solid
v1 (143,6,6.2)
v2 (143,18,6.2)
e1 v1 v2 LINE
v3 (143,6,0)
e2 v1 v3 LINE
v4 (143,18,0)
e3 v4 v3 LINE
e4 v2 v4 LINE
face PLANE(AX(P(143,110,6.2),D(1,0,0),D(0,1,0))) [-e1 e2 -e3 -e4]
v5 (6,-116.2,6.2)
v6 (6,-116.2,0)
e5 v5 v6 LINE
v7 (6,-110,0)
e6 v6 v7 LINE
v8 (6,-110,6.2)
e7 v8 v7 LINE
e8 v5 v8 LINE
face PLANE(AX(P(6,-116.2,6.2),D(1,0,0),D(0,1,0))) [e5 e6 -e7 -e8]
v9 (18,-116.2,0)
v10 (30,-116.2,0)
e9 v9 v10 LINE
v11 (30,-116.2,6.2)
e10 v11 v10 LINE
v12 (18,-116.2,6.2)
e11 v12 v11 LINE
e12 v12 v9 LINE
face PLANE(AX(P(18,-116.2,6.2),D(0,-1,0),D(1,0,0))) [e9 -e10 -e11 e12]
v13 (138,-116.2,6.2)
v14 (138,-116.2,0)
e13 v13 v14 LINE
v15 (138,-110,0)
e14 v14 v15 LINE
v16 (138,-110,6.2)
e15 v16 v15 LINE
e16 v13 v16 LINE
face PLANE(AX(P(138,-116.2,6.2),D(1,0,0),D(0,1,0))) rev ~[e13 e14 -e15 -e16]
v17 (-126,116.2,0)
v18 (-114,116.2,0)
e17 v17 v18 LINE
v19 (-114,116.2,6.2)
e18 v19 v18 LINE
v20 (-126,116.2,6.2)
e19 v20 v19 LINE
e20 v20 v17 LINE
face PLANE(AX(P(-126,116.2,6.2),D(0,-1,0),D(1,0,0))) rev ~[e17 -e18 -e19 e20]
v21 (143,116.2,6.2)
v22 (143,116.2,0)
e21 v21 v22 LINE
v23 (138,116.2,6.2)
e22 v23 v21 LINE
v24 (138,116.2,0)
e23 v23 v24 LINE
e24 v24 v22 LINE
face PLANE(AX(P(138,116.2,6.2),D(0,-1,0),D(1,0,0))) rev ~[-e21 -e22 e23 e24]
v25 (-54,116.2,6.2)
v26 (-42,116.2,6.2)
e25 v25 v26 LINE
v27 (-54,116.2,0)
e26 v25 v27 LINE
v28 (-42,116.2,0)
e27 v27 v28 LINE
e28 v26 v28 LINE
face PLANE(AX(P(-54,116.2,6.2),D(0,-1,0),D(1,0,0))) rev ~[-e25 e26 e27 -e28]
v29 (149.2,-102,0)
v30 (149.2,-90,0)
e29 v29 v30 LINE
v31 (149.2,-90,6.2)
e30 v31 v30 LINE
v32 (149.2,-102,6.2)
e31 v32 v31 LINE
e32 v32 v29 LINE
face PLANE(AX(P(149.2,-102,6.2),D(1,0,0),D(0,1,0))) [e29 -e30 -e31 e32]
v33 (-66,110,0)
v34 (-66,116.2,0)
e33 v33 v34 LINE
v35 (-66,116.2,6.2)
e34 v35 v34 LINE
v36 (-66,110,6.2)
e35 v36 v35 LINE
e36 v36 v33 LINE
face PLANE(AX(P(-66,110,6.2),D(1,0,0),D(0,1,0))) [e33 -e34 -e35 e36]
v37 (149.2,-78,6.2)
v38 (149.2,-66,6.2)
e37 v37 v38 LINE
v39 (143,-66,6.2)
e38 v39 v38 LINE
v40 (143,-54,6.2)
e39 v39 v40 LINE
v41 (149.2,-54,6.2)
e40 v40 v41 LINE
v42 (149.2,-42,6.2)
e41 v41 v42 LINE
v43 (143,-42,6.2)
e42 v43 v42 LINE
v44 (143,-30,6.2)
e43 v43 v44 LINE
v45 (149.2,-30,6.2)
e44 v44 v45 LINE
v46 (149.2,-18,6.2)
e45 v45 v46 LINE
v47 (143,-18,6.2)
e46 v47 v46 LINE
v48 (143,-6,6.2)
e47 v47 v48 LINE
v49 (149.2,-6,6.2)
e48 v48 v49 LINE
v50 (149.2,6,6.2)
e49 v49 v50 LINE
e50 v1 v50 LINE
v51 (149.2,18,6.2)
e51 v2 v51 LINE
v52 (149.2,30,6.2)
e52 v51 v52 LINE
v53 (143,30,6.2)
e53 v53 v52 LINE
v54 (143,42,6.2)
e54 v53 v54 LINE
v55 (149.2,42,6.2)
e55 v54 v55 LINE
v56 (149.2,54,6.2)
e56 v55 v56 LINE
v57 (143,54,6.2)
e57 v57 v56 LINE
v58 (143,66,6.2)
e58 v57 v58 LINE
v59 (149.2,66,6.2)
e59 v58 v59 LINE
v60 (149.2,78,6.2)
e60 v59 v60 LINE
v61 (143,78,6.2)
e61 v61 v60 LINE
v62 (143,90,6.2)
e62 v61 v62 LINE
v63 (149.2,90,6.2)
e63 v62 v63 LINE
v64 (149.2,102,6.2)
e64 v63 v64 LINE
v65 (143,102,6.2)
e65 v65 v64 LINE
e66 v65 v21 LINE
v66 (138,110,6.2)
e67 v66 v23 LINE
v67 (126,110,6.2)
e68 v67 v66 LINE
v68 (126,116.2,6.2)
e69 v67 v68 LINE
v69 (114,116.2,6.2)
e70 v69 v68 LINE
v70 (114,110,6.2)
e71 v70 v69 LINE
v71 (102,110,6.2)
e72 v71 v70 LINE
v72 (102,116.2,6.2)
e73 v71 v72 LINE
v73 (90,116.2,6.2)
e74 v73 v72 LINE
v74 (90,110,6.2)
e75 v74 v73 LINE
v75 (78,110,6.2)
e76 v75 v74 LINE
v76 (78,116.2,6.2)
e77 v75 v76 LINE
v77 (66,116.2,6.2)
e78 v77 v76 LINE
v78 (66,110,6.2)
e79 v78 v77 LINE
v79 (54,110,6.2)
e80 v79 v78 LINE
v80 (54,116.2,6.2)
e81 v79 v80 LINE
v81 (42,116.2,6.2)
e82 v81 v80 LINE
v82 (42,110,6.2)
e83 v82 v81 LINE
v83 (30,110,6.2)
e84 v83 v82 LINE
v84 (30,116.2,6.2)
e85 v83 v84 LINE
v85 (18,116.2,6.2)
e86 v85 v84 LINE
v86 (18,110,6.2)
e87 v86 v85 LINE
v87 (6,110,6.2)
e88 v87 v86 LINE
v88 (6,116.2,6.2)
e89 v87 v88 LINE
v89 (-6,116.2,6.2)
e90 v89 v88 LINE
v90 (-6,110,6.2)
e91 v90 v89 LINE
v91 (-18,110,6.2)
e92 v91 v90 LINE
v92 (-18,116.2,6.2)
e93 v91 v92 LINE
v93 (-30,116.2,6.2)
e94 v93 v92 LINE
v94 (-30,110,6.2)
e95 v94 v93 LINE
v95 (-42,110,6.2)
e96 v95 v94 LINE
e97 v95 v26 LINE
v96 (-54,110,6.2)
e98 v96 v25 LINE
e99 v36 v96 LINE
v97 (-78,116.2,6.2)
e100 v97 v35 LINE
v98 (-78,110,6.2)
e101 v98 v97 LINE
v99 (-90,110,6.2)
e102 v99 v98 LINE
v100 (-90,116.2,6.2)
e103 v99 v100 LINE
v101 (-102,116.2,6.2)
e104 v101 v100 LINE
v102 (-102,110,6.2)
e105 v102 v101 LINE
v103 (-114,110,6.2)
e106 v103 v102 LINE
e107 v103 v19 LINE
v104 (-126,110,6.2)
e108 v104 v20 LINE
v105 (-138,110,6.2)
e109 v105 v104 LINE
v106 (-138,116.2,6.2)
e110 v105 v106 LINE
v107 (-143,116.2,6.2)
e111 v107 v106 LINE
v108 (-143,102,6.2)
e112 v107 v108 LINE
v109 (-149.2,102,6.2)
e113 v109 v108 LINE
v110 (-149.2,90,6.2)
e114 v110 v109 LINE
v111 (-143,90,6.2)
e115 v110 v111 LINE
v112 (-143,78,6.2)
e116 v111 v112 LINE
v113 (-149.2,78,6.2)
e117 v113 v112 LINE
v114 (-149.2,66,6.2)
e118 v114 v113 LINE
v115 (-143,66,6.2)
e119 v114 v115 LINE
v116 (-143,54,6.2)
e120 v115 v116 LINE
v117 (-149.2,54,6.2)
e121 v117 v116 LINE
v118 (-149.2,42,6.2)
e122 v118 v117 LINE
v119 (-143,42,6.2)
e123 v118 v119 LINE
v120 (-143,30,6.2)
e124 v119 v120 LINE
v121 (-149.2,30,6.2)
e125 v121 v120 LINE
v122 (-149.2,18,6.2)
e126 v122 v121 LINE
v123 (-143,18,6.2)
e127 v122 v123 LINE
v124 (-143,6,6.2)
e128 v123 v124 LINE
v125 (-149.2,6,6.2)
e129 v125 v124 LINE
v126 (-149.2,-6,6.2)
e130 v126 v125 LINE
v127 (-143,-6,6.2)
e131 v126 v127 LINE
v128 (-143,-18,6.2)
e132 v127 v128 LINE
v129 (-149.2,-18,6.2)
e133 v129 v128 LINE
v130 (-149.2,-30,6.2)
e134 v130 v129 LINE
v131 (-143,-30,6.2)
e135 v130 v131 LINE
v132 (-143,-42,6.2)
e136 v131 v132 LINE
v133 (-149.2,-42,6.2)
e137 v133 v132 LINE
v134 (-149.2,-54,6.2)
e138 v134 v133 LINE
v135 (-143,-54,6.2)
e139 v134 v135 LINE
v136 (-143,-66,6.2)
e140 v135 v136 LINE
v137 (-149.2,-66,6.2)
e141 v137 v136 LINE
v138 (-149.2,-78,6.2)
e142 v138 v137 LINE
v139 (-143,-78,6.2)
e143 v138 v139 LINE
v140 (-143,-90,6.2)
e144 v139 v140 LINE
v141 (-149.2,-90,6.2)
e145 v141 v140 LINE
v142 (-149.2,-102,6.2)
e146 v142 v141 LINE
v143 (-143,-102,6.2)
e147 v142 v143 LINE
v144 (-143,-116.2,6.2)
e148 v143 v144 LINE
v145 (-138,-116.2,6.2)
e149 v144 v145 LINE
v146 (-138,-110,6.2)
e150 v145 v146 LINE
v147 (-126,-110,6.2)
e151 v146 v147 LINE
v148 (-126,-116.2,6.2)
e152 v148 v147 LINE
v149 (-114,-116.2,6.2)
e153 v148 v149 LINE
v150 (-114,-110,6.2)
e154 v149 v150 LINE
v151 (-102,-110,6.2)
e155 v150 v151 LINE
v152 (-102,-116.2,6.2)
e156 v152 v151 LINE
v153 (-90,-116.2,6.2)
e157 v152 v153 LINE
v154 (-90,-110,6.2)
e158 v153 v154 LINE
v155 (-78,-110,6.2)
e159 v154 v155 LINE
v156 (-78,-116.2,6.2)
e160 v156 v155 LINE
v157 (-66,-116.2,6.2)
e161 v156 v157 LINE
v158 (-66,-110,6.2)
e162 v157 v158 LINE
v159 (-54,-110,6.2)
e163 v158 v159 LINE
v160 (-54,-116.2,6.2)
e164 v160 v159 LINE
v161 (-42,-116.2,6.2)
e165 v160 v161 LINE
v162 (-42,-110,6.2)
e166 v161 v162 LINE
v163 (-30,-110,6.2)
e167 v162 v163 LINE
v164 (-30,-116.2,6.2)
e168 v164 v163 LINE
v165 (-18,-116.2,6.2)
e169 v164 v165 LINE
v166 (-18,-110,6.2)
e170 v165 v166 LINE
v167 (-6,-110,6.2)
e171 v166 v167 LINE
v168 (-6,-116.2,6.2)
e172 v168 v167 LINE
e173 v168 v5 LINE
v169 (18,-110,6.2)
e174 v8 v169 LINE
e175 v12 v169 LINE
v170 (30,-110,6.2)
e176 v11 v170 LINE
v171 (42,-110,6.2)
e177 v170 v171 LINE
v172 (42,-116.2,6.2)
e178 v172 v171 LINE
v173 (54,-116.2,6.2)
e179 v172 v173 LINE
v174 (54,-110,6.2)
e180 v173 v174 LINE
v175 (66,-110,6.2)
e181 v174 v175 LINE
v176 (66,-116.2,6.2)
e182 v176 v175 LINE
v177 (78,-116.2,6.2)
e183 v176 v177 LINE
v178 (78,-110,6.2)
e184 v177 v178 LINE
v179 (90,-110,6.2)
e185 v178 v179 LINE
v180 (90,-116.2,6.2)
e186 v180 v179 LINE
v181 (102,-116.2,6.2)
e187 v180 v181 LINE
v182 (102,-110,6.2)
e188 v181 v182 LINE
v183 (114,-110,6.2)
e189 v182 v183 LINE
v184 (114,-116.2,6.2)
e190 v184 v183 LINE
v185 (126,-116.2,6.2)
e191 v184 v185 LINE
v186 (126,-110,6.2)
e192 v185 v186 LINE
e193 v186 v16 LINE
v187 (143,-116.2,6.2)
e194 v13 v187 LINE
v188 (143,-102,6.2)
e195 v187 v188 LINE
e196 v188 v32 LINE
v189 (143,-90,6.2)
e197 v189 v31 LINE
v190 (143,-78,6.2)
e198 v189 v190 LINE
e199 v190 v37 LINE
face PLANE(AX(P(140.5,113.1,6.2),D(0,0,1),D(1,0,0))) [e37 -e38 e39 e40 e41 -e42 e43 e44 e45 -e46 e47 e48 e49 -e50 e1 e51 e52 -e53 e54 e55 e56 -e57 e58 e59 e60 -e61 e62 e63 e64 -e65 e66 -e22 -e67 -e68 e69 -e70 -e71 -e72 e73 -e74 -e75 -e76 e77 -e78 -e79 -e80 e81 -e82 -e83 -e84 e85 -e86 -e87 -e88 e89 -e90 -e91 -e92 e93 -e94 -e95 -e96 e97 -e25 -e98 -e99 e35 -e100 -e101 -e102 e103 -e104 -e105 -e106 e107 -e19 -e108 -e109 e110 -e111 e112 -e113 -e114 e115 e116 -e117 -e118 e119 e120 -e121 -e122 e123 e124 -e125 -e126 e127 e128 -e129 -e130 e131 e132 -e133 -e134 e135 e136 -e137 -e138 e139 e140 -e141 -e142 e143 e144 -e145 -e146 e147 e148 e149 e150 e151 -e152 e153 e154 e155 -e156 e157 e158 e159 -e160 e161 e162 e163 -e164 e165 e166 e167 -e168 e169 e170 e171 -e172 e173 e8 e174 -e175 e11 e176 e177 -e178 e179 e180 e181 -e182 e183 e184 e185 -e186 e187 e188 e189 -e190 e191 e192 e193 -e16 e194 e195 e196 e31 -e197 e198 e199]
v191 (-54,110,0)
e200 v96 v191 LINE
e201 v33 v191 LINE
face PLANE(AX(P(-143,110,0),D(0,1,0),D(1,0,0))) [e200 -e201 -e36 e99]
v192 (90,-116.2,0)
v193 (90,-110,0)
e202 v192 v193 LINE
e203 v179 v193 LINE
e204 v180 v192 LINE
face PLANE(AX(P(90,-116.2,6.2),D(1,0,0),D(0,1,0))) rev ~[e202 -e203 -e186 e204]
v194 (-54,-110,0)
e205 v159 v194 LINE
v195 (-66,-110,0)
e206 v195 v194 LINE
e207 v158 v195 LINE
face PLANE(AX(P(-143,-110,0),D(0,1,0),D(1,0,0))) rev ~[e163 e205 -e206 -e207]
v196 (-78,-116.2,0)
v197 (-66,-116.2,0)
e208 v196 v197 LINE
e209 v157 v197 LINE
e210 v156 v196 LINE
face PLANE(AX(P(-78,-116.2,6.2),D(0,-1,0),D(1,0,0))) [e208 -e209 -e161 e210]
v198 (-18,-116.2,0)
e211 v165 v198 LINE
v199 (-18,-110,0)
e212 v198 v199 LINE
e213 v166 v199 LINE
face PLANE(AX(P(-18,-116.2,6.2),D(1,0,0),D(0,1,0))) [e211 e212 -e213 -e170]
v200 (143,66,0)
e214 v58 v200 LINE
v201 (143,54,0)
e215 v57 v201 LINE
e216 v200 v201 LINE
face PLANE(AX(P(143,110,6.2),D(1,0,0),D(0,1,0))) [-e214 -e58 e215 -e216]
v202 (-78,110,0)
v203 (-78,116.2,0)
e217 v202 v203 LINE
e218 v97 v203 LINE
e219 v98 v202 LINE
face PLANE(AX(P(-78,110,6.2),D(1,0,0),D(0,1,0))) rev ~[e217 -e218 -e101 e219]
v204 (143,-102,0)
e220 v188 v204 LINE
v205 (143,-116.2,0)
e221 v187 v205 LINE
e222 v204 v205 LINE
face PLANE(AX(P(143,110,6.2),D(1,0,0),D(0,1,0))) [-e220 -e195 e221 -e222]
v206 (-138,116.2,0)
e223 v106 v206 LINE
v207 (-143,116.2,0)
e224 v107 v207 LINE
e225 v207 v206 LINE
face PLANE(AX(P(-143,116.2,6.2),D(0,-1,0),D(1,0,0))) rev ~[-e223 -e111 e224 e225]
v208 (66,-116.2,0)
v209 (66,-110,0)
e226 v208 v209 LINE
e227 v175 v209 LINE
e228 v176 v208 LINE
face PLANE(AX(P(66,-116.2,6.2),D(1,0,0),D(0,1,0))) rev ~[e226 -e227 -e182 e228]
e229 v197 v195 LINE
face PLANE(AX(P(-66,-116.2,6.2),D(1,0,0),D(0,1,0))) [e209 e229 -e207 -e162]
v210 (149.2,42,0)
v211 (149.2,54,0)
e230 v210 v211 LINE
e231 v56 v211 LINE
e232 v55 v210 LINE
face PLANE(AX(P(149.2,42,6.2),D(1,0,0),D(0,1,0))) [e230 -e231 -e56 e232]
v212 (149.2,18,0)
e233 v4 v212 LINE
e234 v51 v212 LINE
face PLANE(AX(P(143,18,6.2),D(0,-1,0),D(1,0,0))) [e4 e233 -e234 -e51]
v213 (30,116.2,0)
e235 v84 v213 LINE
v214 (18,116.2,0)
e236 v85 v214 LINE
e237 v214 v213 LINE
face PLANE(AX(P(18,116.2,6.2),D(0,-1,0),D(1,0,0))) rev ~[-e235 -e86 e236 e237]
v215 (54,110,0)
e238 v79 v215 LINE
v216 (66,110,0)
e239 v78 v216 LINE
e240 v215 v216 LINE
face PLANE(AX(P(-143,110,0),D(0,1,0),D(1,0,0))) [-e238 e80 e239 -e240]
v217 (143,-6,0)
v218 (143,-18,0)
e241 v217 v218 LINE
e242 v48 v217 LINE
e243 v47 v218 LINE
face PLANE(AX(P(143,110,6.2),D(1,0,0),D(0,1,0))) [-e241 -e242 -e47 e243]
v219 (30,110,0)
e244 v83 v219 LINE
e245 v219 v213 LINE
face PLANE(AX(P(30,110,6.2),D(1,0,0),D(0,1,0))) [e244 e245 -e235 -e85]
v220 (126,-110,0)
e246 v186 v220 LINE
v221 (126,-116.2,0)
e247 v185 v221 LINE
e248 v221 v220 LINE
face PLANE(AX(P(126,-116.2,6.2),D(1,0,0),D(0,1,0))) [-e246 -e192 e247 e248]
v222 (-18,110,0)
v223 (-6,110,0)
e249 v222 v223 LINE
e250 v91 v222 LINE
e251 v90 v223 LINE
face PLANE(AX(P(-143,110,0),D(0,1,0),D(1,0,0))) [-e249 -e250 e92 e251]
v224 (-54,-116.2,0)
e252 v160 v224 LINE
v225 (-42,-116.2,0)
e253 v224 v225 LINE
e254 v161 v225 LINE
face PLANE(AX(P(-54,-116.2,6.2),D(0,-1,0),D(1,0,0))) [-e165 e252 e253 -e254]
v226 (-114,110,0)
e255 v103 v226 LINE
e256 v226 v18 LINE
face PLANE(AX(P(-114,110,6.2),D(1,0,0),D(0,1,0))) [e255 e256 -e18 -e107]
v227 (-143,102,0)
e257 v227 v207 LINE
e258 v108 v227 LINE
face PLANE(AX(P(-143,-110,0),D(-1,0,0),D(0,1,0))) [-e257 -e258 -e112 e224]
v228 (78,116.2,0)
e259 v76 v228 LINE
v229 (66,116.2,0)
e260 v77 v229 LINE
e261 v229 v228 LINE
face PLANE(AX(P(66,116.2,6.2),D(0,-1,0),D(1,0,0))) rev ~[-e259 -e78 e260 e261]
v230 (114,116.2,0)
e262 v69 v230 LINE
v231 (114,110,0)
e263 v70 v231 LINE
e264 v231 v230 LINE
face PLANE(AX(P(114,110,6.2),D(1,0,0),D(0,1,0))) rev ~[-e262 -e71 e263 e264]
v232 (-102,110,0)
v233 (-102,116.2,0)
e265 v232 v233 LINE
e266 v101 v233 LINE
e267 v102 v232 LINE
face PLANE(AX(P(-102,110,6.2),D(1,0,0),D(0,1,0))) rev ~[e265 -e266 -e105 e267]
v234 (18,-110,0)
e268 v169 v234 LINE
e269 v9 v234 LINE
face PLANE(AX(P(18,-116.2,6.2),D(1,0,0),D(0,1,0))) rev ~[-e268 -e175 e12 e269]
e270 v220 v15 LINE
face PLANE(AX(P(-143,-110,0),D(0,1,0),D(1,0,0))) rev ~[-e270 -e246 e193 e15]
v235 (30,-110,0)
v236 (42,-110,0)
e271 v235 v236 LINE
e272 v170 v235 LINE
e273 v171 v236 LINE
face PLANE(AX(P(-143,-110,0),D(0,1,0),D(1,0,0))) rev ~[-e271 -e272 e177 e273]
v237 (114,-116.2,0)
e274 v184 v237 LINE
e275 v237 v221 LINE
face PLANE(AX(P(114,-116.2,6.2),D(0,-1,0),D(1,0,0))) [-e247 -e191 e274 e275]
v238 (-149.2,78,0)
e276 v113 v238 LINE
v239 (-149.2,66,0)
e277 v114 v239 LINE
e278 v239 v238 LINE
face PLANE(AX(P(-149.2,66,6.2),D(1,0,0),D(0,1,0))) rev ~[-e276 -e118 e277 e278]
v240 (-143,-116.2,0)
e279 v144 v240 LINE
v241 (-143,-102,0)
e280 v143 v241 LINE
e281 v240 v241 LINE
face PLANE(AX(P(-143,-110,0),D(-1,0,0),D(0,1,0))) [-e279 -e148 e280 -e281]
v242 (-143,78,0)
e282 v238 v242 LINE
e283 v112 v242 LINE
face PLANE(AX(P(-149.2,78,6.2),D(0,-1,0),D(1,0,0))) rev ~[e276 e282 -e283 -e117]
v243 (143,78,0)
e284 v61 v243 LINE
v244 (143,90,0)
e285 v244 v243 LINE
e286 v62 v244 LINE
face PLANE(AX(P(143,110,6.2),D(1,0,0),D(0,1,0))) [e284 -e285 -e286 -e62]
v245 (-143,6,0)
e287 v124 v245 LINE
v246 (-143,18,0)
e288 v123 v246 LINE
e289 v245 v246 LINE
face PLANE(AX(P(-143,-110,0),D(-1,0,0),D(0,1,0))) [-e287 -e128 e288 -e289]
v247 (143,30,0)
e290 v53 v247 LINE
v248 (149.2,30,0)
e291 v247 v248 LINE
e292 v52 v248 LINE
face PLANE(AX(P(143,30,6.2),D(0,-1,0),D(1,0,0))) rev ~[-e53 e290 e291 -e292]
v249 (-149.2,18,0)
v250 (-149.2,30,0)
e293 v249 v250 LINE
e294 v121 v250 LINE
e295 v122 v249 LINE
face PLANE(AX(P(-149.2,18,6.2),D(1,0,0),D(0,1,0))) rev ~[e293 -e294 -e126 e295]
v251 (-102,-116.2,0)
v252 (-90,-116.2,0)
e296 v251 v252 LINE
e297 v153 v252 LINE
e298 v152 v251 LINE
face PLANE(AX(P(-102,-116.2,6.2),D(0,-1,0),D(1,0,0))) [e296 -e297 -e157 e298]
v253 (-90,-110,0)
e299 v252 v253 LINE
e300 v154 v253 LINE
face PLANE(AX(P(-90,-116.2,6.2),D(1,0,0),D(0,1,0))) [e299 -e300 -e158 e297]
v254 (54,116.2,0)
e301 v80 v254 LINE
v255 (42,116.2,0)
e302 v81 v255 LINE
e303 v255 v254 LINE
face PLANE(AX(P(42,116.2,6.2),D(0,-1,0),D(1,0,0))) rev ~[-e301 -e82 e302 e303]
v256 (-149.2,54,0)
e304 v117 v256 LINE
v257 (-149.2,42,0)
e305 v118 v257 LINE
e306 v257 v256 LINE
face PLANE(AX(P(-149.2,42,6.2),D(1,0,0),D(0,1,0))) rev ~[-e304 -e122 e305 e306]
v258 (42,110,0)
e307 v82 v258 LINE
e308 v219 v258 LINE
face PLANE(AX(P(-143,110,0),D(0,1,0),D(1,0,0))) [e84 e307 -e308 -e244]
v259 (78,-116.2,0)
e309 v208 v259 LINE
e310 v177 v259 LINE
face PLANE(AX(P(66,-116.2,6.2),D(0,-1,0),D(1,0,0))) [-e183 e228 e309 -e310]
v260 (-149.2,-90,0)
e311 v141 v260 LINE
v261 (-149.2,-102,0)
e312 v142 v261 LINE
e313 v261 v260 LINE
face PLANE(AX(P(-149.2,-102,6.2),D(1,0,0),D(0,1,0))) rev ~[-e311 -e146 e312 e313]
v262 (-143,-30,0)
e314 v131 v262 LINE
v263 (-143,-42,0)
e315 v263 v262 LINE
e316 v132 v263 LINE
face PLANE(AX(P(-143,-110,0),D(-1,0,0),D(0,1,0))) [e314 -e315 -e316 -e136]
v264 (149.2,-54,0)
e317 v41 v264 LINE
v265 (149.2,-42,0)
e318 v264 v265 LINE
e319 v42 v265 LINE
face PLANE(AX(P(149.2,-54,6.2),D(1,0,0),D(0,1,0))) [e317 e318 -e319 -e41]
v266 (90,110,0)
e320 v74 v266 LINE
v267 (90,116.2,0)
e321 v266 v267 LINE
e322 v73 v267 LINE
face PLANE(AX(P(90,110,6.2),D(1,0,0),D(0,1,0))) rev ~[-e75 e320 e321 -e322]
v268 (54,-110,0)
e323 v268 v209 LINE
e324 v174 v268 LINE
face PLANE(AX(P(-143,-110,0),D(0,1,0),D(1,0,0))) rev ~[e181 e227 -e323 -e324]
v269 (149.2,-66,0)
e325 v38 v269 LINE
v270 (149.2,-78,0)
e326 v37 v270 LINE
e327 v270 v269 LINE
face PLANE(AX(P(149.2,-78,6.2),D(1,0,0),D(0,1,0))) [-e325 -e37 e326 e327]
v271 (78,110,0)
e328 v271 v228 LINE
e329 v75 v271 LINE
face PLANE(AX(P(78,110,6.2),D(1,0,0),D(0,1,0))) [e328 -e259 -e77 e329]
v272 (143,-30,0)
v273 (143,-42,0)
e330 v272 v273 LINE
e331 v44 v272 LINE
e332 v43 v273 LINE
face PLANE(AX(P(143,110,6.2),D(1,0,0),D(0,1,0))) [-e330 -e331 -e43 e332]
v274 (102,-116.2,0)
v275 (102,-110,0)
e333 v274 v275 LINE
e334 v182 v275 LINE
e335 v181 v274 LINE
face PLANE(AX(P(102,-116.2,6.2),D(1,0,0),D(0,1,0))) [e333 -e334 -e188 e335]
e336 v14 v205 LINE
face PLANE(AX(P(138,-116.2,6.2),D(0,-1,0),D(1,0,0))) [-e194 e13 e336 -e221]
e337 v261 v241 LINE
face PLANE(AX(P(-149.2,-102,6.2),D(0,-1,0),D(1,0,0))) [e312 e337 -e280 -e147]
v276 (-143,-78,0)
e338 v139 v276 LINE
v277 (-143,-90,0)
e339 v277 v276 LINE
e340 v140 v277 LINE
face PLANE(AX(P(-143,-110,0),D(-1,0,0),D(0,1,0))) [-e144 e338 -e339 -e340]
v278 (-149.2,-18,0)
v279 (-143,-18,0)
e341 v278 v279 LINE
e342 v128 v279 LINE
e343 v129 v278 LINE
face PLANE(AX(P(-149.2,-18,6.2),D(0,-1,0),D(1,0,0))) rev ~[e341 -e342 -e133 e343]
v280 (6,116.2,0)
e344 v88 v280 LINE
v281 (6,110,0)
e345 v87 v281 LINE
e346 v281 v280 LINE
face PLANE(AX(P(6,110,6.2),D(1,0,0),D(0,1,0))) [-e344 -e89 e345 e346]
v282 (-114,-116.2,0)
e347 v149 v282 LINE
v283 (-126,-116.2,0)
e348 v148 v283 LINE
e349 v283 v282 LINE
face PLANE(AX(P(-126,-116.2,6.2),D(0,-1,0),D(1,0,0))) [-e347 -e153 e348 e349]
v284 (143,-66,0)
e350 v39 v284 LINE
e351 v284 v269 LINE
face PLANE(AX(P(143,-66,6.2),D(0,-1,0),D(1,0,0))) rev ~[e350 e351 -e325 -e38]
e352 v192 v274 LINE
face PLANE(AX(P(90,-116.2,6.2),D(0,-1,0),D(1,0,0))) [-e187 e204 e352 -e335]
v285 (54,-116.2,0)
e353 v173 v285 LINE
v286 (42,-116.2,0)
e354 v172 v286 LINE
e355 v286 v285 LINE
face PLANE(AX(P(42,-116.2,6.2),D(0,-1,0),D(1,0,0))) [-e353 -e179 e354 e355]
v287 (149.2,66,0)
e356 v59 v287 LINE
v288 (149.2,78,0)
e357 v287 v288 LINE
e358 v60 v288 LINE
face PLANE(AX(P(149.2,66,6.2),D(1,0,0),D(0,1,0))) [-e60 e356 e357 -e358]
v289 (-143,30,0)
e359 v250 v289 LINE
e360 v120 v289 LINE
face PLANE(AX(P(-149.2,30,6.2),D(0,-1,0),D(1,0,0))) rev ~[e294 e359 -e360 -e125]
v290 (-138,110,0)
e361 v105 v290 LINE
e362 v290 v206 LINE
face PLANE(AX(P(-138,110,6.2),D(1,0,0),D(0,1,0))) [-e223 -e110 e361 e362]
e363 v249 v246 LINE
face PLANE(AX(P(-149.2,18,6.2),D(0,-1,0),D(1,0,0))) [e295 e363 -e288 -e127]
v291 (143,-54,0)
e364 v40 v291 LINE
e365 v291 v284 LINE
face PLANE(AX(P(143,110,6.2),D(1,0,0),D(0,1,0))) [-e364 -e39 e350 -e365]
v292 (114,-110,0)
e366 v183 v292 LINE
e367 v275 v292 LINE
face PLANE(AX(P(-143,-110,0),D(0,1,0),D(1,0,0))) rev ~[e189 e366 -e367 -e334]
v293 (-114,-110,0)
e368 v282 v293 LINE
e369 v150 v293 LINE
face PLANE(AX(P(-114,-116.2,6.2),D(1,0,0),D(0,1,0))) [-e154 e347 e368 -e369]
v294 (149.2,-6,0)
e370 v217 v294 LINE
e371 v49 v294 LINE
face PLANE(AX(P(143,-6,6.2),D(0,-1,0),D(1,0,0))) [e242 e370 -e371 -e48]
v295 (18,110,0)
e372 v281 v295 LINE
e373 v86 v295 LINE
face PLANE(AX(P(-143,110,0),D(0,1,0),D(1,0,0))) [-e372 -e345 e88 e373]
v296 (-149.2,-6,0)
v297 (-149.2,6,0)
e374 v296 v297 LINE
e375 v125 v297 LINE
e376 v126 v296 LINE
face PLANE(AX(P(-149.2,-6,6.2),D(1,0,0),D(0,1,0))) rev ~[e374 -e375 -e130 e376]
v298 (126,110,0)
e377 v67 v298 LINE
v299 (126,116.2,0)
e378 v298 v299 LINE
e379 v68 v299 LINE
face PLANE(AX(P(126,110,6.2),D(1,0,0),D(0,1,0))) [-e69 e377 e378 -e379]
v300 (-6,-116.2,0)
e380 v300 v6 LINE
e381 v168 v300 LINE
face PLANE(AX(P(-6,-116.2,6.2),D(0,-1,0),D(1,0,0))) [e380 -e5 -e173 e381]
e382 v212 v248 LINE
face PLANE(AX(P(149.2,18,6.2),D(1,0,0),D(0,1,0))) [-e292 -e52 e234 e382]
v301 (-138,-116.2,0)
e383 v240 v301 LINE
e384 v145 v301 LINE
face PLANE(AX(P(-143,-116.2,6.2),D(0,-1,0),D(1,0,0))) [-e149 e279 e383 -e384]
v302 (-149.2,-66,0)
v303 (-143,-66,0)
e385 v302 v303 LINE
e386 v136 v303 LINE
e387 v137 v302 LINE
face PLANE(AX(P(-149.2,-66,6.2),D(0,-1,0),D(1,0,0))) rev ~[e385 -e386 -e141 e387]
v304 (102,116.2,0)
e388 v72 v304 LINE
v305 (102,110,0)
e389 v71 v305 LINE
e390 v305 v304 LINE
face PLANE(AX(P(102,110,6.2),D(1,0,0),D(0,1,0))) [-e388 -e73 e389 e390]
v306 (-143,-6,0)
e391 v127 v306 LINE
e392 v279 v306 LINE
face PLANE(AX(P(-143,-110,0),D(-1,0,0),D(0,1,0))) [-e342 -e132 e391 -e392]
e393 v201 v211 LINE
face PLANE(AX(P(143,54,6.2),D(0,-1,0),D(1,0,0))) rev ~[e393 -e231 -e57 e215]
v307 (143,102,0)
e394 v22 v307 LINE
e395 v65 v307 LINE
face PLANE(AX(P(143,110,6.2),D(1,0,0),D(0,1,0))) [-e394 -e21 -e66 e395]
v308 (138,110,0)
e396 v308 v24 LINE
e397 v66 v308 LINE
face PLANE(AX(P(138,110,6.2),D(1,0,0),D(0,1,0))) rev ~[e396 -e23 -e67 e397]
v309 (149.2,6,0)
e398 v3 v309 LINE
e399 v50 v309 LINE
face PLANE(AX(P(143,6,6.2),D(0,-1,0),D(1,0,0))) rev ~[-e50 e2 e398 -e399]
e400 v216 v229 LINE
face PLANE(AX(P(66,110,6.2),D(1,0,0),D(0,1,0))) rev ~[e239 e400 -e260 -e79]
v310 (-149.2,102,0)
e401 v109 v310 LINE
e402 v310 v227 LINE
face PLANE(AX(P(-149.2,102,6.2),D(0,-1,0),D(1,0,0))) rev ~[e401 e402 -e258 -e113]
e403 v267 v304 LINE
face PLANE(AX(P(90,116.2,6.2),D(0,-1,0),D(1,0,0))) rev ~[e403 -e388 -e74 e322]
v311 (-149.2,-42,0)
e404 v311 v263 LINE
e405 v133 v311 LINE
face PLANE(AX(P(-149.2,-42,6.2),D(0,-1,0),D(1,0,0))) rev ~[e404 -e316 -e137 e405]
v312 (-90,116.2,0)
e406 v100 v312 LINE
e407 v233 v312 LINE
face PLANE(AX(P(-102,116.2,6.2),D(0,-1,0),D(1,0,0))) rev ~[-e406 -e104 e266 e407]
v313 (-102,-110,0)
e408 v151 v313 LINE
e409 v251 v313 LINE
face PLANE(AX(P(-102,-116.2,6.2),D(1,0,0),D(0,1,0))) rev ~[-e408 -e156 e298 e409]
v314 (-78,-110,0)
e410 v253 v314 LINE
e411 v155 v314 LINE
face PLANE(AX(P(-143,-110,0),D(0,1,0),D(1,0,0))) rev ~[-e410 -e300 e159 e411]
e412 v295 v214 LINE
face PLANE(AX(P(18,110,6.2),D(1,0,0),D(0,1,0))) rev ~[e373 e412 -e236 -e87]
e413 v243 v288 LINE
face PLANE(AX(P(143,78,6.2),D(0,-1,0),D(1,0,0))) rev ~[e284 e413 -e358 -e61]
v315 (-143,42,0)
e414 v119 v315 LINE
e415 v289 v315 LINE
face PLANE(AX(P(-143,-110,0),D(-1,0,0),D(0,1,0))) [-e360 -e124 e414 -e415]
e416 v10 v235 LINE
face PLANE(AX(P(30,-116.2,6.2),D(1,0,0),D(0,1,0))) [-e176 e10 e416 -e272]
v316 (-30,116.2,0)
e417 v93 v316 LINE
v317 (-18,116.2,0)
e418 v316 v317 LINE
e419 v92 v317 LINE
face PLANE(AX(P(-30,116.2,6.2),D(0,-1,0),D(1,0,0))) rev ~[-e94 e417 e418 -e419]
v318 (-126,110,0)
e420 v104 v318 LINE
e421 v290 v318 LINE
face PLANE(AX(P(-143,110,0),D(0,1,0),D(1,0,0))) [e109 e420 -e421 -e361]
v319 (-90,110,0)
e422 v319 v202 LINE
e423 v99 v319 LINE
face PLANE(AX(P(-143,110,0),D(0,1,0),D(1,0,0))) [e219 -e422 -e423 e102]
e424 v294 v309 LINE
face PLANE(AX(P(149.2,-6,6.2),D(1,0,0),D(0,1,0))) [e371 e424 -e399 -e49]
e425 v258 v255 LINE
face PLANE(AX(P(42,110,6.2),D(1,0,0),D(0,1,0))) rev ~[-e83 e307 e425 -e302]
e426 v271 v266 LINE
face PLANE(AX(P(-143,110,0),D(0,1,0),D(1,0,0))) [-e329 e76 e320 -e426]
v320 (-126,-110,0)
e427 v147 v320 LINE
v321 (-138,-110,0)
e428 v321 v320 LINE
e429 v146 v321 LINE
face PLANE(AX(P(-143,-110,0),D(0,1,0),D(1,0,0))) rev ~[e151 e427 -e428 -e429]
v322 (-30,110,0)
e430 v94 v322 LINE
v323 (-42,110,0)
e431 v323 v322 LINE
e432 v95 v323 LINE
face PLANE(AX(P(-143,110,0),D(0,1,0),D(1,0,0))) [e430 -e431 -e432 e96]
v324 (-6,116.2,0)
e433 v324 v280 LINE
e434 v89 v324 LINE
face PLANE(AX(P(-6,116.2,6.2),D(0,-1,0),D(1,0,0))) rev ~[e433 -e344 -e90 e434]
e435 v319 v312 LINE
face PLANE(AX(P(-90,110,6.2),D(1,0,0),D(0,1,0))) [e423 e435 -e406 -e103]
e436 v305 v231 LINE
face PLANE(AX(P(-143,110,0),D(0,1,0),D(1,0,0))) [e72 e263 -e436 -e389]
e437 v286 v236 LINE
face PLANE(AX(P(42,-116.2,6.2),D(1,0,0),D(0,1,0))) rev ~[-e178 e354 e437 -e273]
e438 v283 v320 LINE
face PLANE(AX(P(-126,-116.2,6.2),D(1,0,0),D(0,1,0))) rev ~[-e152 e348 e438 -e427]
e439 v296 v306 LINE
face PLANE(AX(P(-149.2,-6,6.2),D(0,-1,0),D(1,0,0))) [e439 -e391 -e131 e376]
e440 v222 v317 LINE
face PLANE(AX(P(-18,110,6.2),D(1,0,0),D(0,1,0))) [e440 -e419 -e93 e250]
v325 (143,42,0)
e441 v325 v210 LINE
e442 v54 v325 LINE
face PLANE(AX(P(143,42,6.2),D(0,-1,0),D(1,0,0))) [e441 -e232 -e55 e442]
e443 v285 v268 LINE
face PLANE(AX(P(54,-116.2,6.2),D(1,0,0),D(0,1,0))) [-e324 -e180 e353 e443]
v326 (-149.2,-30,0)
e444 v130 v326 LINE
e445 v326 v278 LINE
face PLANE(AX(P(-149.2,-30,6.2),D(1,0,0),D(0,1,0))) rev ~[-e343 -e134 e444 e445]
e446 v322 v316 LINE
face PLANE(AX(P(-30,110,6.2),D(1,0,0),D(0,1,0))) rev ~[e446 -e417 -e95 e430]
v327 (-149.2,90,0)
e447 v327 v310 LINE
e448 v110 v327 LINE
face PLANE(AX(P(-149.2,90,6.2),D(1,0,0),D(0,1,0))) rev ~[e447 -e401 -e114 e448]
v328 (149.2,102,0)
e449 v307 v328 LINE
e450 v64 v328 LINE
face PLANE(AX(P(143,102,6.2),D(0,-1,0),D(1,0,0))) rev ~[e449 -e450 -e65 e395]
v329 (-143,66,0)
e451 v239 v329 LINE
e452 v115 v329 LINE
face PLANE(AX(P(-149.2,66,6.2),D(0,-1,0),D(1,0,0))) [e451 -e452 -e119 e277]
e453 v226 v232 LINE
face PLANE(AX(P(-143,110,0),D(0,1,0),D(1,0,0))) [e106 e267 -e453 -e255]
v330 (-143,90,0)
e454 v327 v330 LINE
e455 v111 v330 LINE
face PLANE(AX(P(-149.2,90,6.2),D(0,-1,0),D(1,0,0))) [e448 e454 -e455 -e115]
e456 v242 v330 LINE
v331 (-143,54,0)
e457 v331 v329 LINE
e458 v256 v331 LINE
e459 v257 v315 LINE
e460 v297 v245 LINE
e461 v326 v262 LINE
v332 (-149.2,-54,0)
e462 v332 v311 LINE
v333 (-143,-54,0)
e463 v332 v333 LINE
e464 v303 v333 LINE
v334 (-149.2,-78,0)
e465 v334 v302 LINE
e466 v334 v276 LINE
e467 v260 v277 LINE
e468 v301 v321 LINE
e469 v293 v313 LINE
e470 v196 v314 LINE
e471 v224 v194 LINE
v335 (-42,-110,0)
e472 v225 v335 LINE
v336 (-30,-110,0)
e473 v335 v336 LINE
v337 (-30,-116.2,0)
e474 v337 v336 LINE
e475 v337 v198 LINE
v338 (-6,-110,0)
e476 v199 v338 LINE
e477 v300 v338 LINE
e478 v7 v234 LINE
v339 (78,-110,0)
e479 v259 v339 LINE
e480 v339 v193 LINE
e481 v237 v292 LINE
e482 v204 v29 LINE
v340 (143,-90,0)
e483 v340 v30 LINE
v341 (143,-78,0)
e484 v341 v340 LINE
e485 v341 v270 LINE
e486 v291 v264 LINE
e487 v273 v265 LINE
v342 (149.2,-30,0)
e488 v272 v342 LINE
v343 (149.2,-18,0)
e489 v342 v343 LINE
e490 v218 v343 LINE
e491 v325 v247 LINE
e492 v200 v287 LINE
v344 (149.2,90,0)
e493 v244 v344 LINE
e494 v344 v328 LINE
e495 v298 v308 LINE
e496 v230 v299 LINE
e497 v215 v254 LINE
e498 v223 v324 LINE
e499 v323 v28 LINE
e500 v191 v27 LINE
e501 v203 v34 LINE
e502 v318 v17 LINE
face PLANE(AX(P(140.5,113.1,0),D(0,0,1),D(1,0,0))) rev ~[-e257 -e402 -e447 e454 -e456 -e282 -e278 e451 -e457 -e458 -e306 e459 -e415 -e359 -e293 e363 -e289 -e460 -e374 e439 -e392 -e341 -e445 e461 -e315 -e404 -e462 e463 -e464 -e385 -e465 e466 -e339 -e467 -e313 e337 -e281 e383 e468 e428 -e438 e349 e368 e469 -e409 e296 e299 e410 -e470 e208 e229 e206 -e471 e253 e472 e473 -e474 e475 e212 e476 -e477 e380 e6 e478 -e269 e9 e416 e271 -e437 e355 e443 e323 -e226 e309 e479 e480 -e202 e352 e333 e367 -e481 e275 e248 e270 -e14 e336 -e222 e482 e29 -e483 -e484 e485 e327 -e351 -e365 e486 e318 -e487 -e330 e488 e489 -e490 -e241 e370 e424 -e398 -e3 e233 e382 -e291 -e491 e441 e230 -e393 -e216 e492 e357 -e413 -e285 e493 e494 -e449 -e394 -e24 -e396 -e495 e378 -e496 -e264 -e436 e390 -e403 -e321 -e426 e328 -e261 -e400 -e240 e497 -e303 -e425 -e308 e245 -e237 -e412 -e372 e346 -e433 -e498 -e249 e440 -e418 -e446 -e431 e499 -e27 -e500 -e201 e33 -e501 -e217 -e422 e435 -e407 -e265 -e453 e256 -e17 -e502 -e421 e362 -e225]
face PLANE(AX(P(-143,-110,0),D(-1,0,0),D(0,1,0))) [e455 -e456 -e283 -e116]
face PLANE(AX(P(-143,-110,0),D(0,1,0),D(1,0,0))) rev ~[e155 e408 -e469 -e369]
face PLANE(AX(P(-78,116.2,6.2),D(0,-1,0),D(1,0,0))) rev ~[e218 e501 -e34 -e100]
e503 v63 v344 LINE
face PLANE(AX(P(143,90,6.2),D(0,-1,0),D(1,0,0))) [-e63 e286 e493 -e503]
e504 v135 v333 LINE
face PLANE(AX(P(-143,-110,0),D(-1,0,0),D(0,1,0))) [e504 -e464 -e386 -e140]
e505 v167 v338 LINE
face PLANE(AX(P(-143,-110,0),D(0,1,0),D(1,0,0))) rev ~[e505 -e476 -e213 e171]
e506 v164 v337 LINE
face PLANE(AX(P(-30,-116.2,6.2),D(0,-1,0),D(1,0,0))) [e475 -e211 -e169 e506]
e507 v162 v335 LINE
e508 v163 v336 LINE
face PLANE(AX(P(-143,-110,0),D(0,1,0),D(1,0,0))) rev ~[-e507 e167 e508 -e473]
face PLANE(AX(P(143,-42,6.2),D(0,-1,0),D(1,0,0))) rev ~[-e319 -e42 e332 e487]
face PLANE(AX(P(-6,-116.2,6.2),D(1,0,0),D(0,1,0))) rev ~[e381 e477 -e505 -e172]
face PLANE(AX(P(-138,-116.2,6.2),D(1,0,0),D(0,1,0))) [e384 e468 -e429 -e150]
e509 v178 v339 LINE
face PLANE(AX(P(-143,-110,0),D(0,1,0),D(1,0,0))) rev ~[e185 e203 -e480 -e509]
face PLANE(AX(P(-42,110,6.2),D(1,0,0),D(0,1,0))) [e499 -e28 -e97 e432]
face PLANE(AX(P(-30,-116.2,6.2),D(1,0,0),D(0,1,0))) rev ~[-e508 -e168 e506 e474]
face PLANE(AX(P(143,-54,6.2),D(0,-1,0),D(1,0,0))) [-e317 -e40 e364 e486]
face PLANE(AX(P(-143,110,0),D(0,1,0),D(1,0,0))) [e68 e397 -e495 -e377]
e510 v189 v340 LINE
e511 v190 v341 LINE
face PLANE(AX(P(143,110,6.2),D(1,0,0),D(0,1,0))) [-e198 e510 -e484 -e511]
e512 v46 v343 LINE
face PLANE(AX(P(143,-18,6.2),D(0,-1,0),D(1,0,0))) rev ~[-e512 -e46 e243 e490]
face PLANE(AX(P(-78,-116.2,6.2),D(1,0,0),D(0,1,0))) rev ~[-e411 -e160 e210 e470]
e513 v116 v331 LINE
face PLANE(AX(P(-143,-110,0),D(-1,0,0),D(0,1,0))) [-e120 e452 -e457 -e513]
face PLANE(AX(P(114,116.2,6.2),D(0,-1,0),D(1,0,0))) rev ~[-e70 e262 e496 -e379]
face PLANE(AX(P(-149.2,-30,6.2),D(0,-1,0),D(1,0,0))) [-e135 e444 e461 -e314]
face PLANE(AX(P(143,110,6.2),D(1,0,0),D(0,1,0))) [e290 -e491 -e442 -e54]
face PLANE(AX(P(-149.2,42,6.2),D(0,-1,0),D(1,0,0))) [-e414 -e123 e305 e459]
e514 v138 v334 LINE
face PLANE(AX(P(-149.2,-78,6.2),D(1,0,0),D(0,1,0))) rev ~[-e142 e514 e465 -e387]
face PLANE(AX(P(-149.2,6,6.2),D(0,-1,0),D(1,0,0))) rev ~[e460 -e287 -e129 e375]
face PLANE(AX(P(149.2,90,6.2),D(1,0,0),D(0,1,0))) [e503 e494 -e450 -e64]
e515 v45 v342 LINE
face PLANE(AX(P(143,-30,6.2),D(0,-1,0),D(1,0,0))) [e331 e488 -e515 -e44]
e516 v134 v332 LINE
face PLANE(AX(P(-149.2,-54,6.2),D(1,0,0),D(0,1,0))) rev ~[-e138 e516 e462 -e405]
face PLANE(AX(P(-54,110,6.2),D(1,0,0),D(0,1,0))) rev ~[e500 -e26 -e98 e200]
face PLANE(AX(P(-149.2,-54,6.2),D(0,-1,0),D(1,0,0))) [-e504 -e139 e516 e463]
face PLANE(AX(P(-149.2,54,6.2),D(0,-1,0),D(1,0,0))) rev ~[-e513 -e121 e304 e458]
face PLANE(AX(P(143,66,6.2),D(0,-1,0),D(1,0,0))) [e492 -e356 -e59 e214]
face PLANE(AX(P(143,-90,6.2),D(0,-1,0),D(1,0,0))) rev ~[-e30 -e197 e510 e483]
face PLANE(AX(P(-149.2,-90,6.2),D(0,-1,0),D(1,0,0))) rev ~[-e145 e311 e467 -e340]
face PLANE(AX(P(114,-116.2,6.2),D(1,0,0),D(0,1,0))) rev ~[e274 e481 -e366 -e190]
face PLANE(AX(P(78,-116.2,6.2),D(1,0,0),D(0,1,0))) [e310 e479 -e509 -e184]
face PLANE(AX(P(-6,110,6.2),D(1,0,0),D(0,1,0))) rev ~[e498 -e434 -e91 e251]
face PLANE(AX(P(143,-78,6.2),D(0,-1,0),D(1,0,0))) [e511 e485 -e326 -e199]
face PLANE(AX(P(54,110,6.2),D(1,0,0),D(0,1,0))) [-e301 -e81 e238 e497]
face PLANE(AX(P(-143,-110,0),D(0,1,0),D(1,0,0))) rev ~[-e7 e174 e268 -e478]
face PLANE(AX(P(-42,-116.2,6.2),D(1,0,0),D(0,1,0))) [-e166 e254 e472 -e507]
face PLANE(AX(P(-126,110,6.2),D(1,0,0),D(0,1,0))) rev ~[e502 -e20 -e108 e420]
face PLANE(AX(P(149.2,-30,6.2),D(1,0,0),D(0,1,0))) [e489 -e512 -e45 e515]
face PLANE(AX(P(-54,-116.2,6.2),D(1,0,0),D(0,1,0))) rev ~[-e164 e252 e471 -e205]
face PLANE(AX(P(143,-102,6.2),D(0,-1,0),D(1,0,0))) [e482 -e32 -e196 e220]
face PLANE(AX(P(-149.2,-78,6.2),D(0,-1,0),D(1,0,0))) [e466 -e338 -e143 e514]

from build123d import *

# Parameters (mm, degrees)
F0_W     = 286
F0_H     = 220
F1_DEPTH = 6.2
F2_W     = 5
F2_H     = 6.2
F2_W_2   = 12
F3_DEPTH = 6.2
F4_W     = 6.2
F4_H     = 12
F5_DEPTH = 6.2


with BuildPart() as f1:
    # F0 (on Top) → F1 (new body)
    with BuildSketch(Plane.XY):
        Rectangle(F0_W, F0_H)
    extrude(amount=F1_DEPTH)

    # F2 (on face) → F3 (join, through all)
    with BuildSketch(Plane.XY.offset(6.2)):
        with Locations((140.5, 113.1)):
            Rectangle(F2_W, F2_H)
        with Locations((120, 113.1)):
            Rectangle(F2_W_2, F2_H)
        with Locations((96, 113.1)):
            Rectangle(F2_W_2, F2_H)
        with Locations((72, 113.1)):
            Rectangle(F2_W_2, F2_H)
        with Locations((48, 113.1)):
            Rectangle(F2_W_2, F2_H)
        with Locations((24, 113.1)):
            Rectangle(F2_W_2, F2_H)
        with Locations((0, 113.1)):
            Rectangle(F2_W_2, F2_H)
        with Locations((-24, 113.1)):
            Rectangle(F2_W_2, F2_H)
        with Locations((-48, 113.1)):
            Rectangle(F2_W_2, F2_H)
        with Locations((-72, 113.1)):
            Rectangle(F2_W_2, F2_H)
        with Locations((-96, 113.1)):
            Rectangle(F2_W_2, F2_H)
        with Locations((-120, 113.1)):
            Rectangle(F2_W_2, F2_H)
        with Locations((-140.5, 113.1)):
            Rectangle(F2_W, F2_H)
        with Locations((-140.5, -113.1)):
            Rectangle(F2_W, F2_H)
        with Locations((-120, -113.1)):
            Rectangle(F2_W_2, F2_H)
        with Locations((-96, -113.1)):
            Rectangle(F2_W_2, F2_H)
        with Locations((-72, -113.1)):
            Rectangle(F2_W_2, F2_H)
        with Locations((-48, -113.1)):
            Rectangle(F2_W_2, F2_H)
        with Locations((-24, -113.1)):
            Rectangle(F2_W_2, F2_H)
        with Locations((0, -113.1)):
            Rectangle(F2_W_2, F2_H)
        with Locations((24, -113.1)):
            Rectangle(F2_W_2, F2_H)
        with Locations((48, -113.1)):
            Rectangle(F2_W_2, F2_H)
        with Locations((72, -113.1)):
            Rectangle(F2_W_2, F2_H)
        with Locations((96, -113.1)):
            Rectangle(F2_W_2, F2_H)
        with Locations((120, -113.1)):
            Rectangle(F2_W_2, F2_H)
        with Locations((140.5, -113.1)):
            Rectangle(F2_W, F2_H)
    extrude(amount=-F3_DEPTH)

    # F4 (on face) → F5 (join, through all)
    with BuildSketch(Plane.XY.offset(6.2)):
        with Locations((146.1, -96)):
            Rectangle(F4_W, F4_H)
        with Locations((146.1, -72)):
            Rectangle(F4_W, F4_H)
        with Locations((146.1, -48)):
            Rectangle(F4_W, F4_H)
        with Locations((146.1, -24)):
            Rectangle(F4_W, F4_H)
        with Locations((146.1, 0)):
            Rectangle(F4_W, F4_H)
        with Locations((146.1, 24)):
            Rectangle(F4_W, F4_H)
        with Locations((146.1, 48)):
            Rectangle(F4_W, F4_H)
        with Locations((146.1, 72)):
            Rectangle(F4_W, F4_H)
        with Locations((146.1, 96)):
            Rectangle(F4_W, F4_H)
        with Locations((-146.1, 96)):
            Rectangle(F4_W, F4_H)
        with Locations((-146.1, 72)):
            Rectangle(F4_W, F4_H)
        with Locations((-146.1, 48)):
            Rectangle(F4_W, F4_H)
        with Locations((-146.1, 24)):
            Rectangle(F4_W, F4_H)
        with Locations((-146.1, 0)):
            Rectangle(F4_W, F4_H)
        with Locations((-146.1, -24)):
            Rectangle(F4_W, F4_H)
        with Locations((-146.1, -48)):
            Rectangle(F4_W, F4_H)
        with Locations((-146.1, -72)):
            Rectangle(F4_W, F4_H)
        with Locations((-146.1, -96)):
            Rectangle(F4_W, F4_H)
    extrude(amount=-F5_DEPTH)


solid = f1.part
